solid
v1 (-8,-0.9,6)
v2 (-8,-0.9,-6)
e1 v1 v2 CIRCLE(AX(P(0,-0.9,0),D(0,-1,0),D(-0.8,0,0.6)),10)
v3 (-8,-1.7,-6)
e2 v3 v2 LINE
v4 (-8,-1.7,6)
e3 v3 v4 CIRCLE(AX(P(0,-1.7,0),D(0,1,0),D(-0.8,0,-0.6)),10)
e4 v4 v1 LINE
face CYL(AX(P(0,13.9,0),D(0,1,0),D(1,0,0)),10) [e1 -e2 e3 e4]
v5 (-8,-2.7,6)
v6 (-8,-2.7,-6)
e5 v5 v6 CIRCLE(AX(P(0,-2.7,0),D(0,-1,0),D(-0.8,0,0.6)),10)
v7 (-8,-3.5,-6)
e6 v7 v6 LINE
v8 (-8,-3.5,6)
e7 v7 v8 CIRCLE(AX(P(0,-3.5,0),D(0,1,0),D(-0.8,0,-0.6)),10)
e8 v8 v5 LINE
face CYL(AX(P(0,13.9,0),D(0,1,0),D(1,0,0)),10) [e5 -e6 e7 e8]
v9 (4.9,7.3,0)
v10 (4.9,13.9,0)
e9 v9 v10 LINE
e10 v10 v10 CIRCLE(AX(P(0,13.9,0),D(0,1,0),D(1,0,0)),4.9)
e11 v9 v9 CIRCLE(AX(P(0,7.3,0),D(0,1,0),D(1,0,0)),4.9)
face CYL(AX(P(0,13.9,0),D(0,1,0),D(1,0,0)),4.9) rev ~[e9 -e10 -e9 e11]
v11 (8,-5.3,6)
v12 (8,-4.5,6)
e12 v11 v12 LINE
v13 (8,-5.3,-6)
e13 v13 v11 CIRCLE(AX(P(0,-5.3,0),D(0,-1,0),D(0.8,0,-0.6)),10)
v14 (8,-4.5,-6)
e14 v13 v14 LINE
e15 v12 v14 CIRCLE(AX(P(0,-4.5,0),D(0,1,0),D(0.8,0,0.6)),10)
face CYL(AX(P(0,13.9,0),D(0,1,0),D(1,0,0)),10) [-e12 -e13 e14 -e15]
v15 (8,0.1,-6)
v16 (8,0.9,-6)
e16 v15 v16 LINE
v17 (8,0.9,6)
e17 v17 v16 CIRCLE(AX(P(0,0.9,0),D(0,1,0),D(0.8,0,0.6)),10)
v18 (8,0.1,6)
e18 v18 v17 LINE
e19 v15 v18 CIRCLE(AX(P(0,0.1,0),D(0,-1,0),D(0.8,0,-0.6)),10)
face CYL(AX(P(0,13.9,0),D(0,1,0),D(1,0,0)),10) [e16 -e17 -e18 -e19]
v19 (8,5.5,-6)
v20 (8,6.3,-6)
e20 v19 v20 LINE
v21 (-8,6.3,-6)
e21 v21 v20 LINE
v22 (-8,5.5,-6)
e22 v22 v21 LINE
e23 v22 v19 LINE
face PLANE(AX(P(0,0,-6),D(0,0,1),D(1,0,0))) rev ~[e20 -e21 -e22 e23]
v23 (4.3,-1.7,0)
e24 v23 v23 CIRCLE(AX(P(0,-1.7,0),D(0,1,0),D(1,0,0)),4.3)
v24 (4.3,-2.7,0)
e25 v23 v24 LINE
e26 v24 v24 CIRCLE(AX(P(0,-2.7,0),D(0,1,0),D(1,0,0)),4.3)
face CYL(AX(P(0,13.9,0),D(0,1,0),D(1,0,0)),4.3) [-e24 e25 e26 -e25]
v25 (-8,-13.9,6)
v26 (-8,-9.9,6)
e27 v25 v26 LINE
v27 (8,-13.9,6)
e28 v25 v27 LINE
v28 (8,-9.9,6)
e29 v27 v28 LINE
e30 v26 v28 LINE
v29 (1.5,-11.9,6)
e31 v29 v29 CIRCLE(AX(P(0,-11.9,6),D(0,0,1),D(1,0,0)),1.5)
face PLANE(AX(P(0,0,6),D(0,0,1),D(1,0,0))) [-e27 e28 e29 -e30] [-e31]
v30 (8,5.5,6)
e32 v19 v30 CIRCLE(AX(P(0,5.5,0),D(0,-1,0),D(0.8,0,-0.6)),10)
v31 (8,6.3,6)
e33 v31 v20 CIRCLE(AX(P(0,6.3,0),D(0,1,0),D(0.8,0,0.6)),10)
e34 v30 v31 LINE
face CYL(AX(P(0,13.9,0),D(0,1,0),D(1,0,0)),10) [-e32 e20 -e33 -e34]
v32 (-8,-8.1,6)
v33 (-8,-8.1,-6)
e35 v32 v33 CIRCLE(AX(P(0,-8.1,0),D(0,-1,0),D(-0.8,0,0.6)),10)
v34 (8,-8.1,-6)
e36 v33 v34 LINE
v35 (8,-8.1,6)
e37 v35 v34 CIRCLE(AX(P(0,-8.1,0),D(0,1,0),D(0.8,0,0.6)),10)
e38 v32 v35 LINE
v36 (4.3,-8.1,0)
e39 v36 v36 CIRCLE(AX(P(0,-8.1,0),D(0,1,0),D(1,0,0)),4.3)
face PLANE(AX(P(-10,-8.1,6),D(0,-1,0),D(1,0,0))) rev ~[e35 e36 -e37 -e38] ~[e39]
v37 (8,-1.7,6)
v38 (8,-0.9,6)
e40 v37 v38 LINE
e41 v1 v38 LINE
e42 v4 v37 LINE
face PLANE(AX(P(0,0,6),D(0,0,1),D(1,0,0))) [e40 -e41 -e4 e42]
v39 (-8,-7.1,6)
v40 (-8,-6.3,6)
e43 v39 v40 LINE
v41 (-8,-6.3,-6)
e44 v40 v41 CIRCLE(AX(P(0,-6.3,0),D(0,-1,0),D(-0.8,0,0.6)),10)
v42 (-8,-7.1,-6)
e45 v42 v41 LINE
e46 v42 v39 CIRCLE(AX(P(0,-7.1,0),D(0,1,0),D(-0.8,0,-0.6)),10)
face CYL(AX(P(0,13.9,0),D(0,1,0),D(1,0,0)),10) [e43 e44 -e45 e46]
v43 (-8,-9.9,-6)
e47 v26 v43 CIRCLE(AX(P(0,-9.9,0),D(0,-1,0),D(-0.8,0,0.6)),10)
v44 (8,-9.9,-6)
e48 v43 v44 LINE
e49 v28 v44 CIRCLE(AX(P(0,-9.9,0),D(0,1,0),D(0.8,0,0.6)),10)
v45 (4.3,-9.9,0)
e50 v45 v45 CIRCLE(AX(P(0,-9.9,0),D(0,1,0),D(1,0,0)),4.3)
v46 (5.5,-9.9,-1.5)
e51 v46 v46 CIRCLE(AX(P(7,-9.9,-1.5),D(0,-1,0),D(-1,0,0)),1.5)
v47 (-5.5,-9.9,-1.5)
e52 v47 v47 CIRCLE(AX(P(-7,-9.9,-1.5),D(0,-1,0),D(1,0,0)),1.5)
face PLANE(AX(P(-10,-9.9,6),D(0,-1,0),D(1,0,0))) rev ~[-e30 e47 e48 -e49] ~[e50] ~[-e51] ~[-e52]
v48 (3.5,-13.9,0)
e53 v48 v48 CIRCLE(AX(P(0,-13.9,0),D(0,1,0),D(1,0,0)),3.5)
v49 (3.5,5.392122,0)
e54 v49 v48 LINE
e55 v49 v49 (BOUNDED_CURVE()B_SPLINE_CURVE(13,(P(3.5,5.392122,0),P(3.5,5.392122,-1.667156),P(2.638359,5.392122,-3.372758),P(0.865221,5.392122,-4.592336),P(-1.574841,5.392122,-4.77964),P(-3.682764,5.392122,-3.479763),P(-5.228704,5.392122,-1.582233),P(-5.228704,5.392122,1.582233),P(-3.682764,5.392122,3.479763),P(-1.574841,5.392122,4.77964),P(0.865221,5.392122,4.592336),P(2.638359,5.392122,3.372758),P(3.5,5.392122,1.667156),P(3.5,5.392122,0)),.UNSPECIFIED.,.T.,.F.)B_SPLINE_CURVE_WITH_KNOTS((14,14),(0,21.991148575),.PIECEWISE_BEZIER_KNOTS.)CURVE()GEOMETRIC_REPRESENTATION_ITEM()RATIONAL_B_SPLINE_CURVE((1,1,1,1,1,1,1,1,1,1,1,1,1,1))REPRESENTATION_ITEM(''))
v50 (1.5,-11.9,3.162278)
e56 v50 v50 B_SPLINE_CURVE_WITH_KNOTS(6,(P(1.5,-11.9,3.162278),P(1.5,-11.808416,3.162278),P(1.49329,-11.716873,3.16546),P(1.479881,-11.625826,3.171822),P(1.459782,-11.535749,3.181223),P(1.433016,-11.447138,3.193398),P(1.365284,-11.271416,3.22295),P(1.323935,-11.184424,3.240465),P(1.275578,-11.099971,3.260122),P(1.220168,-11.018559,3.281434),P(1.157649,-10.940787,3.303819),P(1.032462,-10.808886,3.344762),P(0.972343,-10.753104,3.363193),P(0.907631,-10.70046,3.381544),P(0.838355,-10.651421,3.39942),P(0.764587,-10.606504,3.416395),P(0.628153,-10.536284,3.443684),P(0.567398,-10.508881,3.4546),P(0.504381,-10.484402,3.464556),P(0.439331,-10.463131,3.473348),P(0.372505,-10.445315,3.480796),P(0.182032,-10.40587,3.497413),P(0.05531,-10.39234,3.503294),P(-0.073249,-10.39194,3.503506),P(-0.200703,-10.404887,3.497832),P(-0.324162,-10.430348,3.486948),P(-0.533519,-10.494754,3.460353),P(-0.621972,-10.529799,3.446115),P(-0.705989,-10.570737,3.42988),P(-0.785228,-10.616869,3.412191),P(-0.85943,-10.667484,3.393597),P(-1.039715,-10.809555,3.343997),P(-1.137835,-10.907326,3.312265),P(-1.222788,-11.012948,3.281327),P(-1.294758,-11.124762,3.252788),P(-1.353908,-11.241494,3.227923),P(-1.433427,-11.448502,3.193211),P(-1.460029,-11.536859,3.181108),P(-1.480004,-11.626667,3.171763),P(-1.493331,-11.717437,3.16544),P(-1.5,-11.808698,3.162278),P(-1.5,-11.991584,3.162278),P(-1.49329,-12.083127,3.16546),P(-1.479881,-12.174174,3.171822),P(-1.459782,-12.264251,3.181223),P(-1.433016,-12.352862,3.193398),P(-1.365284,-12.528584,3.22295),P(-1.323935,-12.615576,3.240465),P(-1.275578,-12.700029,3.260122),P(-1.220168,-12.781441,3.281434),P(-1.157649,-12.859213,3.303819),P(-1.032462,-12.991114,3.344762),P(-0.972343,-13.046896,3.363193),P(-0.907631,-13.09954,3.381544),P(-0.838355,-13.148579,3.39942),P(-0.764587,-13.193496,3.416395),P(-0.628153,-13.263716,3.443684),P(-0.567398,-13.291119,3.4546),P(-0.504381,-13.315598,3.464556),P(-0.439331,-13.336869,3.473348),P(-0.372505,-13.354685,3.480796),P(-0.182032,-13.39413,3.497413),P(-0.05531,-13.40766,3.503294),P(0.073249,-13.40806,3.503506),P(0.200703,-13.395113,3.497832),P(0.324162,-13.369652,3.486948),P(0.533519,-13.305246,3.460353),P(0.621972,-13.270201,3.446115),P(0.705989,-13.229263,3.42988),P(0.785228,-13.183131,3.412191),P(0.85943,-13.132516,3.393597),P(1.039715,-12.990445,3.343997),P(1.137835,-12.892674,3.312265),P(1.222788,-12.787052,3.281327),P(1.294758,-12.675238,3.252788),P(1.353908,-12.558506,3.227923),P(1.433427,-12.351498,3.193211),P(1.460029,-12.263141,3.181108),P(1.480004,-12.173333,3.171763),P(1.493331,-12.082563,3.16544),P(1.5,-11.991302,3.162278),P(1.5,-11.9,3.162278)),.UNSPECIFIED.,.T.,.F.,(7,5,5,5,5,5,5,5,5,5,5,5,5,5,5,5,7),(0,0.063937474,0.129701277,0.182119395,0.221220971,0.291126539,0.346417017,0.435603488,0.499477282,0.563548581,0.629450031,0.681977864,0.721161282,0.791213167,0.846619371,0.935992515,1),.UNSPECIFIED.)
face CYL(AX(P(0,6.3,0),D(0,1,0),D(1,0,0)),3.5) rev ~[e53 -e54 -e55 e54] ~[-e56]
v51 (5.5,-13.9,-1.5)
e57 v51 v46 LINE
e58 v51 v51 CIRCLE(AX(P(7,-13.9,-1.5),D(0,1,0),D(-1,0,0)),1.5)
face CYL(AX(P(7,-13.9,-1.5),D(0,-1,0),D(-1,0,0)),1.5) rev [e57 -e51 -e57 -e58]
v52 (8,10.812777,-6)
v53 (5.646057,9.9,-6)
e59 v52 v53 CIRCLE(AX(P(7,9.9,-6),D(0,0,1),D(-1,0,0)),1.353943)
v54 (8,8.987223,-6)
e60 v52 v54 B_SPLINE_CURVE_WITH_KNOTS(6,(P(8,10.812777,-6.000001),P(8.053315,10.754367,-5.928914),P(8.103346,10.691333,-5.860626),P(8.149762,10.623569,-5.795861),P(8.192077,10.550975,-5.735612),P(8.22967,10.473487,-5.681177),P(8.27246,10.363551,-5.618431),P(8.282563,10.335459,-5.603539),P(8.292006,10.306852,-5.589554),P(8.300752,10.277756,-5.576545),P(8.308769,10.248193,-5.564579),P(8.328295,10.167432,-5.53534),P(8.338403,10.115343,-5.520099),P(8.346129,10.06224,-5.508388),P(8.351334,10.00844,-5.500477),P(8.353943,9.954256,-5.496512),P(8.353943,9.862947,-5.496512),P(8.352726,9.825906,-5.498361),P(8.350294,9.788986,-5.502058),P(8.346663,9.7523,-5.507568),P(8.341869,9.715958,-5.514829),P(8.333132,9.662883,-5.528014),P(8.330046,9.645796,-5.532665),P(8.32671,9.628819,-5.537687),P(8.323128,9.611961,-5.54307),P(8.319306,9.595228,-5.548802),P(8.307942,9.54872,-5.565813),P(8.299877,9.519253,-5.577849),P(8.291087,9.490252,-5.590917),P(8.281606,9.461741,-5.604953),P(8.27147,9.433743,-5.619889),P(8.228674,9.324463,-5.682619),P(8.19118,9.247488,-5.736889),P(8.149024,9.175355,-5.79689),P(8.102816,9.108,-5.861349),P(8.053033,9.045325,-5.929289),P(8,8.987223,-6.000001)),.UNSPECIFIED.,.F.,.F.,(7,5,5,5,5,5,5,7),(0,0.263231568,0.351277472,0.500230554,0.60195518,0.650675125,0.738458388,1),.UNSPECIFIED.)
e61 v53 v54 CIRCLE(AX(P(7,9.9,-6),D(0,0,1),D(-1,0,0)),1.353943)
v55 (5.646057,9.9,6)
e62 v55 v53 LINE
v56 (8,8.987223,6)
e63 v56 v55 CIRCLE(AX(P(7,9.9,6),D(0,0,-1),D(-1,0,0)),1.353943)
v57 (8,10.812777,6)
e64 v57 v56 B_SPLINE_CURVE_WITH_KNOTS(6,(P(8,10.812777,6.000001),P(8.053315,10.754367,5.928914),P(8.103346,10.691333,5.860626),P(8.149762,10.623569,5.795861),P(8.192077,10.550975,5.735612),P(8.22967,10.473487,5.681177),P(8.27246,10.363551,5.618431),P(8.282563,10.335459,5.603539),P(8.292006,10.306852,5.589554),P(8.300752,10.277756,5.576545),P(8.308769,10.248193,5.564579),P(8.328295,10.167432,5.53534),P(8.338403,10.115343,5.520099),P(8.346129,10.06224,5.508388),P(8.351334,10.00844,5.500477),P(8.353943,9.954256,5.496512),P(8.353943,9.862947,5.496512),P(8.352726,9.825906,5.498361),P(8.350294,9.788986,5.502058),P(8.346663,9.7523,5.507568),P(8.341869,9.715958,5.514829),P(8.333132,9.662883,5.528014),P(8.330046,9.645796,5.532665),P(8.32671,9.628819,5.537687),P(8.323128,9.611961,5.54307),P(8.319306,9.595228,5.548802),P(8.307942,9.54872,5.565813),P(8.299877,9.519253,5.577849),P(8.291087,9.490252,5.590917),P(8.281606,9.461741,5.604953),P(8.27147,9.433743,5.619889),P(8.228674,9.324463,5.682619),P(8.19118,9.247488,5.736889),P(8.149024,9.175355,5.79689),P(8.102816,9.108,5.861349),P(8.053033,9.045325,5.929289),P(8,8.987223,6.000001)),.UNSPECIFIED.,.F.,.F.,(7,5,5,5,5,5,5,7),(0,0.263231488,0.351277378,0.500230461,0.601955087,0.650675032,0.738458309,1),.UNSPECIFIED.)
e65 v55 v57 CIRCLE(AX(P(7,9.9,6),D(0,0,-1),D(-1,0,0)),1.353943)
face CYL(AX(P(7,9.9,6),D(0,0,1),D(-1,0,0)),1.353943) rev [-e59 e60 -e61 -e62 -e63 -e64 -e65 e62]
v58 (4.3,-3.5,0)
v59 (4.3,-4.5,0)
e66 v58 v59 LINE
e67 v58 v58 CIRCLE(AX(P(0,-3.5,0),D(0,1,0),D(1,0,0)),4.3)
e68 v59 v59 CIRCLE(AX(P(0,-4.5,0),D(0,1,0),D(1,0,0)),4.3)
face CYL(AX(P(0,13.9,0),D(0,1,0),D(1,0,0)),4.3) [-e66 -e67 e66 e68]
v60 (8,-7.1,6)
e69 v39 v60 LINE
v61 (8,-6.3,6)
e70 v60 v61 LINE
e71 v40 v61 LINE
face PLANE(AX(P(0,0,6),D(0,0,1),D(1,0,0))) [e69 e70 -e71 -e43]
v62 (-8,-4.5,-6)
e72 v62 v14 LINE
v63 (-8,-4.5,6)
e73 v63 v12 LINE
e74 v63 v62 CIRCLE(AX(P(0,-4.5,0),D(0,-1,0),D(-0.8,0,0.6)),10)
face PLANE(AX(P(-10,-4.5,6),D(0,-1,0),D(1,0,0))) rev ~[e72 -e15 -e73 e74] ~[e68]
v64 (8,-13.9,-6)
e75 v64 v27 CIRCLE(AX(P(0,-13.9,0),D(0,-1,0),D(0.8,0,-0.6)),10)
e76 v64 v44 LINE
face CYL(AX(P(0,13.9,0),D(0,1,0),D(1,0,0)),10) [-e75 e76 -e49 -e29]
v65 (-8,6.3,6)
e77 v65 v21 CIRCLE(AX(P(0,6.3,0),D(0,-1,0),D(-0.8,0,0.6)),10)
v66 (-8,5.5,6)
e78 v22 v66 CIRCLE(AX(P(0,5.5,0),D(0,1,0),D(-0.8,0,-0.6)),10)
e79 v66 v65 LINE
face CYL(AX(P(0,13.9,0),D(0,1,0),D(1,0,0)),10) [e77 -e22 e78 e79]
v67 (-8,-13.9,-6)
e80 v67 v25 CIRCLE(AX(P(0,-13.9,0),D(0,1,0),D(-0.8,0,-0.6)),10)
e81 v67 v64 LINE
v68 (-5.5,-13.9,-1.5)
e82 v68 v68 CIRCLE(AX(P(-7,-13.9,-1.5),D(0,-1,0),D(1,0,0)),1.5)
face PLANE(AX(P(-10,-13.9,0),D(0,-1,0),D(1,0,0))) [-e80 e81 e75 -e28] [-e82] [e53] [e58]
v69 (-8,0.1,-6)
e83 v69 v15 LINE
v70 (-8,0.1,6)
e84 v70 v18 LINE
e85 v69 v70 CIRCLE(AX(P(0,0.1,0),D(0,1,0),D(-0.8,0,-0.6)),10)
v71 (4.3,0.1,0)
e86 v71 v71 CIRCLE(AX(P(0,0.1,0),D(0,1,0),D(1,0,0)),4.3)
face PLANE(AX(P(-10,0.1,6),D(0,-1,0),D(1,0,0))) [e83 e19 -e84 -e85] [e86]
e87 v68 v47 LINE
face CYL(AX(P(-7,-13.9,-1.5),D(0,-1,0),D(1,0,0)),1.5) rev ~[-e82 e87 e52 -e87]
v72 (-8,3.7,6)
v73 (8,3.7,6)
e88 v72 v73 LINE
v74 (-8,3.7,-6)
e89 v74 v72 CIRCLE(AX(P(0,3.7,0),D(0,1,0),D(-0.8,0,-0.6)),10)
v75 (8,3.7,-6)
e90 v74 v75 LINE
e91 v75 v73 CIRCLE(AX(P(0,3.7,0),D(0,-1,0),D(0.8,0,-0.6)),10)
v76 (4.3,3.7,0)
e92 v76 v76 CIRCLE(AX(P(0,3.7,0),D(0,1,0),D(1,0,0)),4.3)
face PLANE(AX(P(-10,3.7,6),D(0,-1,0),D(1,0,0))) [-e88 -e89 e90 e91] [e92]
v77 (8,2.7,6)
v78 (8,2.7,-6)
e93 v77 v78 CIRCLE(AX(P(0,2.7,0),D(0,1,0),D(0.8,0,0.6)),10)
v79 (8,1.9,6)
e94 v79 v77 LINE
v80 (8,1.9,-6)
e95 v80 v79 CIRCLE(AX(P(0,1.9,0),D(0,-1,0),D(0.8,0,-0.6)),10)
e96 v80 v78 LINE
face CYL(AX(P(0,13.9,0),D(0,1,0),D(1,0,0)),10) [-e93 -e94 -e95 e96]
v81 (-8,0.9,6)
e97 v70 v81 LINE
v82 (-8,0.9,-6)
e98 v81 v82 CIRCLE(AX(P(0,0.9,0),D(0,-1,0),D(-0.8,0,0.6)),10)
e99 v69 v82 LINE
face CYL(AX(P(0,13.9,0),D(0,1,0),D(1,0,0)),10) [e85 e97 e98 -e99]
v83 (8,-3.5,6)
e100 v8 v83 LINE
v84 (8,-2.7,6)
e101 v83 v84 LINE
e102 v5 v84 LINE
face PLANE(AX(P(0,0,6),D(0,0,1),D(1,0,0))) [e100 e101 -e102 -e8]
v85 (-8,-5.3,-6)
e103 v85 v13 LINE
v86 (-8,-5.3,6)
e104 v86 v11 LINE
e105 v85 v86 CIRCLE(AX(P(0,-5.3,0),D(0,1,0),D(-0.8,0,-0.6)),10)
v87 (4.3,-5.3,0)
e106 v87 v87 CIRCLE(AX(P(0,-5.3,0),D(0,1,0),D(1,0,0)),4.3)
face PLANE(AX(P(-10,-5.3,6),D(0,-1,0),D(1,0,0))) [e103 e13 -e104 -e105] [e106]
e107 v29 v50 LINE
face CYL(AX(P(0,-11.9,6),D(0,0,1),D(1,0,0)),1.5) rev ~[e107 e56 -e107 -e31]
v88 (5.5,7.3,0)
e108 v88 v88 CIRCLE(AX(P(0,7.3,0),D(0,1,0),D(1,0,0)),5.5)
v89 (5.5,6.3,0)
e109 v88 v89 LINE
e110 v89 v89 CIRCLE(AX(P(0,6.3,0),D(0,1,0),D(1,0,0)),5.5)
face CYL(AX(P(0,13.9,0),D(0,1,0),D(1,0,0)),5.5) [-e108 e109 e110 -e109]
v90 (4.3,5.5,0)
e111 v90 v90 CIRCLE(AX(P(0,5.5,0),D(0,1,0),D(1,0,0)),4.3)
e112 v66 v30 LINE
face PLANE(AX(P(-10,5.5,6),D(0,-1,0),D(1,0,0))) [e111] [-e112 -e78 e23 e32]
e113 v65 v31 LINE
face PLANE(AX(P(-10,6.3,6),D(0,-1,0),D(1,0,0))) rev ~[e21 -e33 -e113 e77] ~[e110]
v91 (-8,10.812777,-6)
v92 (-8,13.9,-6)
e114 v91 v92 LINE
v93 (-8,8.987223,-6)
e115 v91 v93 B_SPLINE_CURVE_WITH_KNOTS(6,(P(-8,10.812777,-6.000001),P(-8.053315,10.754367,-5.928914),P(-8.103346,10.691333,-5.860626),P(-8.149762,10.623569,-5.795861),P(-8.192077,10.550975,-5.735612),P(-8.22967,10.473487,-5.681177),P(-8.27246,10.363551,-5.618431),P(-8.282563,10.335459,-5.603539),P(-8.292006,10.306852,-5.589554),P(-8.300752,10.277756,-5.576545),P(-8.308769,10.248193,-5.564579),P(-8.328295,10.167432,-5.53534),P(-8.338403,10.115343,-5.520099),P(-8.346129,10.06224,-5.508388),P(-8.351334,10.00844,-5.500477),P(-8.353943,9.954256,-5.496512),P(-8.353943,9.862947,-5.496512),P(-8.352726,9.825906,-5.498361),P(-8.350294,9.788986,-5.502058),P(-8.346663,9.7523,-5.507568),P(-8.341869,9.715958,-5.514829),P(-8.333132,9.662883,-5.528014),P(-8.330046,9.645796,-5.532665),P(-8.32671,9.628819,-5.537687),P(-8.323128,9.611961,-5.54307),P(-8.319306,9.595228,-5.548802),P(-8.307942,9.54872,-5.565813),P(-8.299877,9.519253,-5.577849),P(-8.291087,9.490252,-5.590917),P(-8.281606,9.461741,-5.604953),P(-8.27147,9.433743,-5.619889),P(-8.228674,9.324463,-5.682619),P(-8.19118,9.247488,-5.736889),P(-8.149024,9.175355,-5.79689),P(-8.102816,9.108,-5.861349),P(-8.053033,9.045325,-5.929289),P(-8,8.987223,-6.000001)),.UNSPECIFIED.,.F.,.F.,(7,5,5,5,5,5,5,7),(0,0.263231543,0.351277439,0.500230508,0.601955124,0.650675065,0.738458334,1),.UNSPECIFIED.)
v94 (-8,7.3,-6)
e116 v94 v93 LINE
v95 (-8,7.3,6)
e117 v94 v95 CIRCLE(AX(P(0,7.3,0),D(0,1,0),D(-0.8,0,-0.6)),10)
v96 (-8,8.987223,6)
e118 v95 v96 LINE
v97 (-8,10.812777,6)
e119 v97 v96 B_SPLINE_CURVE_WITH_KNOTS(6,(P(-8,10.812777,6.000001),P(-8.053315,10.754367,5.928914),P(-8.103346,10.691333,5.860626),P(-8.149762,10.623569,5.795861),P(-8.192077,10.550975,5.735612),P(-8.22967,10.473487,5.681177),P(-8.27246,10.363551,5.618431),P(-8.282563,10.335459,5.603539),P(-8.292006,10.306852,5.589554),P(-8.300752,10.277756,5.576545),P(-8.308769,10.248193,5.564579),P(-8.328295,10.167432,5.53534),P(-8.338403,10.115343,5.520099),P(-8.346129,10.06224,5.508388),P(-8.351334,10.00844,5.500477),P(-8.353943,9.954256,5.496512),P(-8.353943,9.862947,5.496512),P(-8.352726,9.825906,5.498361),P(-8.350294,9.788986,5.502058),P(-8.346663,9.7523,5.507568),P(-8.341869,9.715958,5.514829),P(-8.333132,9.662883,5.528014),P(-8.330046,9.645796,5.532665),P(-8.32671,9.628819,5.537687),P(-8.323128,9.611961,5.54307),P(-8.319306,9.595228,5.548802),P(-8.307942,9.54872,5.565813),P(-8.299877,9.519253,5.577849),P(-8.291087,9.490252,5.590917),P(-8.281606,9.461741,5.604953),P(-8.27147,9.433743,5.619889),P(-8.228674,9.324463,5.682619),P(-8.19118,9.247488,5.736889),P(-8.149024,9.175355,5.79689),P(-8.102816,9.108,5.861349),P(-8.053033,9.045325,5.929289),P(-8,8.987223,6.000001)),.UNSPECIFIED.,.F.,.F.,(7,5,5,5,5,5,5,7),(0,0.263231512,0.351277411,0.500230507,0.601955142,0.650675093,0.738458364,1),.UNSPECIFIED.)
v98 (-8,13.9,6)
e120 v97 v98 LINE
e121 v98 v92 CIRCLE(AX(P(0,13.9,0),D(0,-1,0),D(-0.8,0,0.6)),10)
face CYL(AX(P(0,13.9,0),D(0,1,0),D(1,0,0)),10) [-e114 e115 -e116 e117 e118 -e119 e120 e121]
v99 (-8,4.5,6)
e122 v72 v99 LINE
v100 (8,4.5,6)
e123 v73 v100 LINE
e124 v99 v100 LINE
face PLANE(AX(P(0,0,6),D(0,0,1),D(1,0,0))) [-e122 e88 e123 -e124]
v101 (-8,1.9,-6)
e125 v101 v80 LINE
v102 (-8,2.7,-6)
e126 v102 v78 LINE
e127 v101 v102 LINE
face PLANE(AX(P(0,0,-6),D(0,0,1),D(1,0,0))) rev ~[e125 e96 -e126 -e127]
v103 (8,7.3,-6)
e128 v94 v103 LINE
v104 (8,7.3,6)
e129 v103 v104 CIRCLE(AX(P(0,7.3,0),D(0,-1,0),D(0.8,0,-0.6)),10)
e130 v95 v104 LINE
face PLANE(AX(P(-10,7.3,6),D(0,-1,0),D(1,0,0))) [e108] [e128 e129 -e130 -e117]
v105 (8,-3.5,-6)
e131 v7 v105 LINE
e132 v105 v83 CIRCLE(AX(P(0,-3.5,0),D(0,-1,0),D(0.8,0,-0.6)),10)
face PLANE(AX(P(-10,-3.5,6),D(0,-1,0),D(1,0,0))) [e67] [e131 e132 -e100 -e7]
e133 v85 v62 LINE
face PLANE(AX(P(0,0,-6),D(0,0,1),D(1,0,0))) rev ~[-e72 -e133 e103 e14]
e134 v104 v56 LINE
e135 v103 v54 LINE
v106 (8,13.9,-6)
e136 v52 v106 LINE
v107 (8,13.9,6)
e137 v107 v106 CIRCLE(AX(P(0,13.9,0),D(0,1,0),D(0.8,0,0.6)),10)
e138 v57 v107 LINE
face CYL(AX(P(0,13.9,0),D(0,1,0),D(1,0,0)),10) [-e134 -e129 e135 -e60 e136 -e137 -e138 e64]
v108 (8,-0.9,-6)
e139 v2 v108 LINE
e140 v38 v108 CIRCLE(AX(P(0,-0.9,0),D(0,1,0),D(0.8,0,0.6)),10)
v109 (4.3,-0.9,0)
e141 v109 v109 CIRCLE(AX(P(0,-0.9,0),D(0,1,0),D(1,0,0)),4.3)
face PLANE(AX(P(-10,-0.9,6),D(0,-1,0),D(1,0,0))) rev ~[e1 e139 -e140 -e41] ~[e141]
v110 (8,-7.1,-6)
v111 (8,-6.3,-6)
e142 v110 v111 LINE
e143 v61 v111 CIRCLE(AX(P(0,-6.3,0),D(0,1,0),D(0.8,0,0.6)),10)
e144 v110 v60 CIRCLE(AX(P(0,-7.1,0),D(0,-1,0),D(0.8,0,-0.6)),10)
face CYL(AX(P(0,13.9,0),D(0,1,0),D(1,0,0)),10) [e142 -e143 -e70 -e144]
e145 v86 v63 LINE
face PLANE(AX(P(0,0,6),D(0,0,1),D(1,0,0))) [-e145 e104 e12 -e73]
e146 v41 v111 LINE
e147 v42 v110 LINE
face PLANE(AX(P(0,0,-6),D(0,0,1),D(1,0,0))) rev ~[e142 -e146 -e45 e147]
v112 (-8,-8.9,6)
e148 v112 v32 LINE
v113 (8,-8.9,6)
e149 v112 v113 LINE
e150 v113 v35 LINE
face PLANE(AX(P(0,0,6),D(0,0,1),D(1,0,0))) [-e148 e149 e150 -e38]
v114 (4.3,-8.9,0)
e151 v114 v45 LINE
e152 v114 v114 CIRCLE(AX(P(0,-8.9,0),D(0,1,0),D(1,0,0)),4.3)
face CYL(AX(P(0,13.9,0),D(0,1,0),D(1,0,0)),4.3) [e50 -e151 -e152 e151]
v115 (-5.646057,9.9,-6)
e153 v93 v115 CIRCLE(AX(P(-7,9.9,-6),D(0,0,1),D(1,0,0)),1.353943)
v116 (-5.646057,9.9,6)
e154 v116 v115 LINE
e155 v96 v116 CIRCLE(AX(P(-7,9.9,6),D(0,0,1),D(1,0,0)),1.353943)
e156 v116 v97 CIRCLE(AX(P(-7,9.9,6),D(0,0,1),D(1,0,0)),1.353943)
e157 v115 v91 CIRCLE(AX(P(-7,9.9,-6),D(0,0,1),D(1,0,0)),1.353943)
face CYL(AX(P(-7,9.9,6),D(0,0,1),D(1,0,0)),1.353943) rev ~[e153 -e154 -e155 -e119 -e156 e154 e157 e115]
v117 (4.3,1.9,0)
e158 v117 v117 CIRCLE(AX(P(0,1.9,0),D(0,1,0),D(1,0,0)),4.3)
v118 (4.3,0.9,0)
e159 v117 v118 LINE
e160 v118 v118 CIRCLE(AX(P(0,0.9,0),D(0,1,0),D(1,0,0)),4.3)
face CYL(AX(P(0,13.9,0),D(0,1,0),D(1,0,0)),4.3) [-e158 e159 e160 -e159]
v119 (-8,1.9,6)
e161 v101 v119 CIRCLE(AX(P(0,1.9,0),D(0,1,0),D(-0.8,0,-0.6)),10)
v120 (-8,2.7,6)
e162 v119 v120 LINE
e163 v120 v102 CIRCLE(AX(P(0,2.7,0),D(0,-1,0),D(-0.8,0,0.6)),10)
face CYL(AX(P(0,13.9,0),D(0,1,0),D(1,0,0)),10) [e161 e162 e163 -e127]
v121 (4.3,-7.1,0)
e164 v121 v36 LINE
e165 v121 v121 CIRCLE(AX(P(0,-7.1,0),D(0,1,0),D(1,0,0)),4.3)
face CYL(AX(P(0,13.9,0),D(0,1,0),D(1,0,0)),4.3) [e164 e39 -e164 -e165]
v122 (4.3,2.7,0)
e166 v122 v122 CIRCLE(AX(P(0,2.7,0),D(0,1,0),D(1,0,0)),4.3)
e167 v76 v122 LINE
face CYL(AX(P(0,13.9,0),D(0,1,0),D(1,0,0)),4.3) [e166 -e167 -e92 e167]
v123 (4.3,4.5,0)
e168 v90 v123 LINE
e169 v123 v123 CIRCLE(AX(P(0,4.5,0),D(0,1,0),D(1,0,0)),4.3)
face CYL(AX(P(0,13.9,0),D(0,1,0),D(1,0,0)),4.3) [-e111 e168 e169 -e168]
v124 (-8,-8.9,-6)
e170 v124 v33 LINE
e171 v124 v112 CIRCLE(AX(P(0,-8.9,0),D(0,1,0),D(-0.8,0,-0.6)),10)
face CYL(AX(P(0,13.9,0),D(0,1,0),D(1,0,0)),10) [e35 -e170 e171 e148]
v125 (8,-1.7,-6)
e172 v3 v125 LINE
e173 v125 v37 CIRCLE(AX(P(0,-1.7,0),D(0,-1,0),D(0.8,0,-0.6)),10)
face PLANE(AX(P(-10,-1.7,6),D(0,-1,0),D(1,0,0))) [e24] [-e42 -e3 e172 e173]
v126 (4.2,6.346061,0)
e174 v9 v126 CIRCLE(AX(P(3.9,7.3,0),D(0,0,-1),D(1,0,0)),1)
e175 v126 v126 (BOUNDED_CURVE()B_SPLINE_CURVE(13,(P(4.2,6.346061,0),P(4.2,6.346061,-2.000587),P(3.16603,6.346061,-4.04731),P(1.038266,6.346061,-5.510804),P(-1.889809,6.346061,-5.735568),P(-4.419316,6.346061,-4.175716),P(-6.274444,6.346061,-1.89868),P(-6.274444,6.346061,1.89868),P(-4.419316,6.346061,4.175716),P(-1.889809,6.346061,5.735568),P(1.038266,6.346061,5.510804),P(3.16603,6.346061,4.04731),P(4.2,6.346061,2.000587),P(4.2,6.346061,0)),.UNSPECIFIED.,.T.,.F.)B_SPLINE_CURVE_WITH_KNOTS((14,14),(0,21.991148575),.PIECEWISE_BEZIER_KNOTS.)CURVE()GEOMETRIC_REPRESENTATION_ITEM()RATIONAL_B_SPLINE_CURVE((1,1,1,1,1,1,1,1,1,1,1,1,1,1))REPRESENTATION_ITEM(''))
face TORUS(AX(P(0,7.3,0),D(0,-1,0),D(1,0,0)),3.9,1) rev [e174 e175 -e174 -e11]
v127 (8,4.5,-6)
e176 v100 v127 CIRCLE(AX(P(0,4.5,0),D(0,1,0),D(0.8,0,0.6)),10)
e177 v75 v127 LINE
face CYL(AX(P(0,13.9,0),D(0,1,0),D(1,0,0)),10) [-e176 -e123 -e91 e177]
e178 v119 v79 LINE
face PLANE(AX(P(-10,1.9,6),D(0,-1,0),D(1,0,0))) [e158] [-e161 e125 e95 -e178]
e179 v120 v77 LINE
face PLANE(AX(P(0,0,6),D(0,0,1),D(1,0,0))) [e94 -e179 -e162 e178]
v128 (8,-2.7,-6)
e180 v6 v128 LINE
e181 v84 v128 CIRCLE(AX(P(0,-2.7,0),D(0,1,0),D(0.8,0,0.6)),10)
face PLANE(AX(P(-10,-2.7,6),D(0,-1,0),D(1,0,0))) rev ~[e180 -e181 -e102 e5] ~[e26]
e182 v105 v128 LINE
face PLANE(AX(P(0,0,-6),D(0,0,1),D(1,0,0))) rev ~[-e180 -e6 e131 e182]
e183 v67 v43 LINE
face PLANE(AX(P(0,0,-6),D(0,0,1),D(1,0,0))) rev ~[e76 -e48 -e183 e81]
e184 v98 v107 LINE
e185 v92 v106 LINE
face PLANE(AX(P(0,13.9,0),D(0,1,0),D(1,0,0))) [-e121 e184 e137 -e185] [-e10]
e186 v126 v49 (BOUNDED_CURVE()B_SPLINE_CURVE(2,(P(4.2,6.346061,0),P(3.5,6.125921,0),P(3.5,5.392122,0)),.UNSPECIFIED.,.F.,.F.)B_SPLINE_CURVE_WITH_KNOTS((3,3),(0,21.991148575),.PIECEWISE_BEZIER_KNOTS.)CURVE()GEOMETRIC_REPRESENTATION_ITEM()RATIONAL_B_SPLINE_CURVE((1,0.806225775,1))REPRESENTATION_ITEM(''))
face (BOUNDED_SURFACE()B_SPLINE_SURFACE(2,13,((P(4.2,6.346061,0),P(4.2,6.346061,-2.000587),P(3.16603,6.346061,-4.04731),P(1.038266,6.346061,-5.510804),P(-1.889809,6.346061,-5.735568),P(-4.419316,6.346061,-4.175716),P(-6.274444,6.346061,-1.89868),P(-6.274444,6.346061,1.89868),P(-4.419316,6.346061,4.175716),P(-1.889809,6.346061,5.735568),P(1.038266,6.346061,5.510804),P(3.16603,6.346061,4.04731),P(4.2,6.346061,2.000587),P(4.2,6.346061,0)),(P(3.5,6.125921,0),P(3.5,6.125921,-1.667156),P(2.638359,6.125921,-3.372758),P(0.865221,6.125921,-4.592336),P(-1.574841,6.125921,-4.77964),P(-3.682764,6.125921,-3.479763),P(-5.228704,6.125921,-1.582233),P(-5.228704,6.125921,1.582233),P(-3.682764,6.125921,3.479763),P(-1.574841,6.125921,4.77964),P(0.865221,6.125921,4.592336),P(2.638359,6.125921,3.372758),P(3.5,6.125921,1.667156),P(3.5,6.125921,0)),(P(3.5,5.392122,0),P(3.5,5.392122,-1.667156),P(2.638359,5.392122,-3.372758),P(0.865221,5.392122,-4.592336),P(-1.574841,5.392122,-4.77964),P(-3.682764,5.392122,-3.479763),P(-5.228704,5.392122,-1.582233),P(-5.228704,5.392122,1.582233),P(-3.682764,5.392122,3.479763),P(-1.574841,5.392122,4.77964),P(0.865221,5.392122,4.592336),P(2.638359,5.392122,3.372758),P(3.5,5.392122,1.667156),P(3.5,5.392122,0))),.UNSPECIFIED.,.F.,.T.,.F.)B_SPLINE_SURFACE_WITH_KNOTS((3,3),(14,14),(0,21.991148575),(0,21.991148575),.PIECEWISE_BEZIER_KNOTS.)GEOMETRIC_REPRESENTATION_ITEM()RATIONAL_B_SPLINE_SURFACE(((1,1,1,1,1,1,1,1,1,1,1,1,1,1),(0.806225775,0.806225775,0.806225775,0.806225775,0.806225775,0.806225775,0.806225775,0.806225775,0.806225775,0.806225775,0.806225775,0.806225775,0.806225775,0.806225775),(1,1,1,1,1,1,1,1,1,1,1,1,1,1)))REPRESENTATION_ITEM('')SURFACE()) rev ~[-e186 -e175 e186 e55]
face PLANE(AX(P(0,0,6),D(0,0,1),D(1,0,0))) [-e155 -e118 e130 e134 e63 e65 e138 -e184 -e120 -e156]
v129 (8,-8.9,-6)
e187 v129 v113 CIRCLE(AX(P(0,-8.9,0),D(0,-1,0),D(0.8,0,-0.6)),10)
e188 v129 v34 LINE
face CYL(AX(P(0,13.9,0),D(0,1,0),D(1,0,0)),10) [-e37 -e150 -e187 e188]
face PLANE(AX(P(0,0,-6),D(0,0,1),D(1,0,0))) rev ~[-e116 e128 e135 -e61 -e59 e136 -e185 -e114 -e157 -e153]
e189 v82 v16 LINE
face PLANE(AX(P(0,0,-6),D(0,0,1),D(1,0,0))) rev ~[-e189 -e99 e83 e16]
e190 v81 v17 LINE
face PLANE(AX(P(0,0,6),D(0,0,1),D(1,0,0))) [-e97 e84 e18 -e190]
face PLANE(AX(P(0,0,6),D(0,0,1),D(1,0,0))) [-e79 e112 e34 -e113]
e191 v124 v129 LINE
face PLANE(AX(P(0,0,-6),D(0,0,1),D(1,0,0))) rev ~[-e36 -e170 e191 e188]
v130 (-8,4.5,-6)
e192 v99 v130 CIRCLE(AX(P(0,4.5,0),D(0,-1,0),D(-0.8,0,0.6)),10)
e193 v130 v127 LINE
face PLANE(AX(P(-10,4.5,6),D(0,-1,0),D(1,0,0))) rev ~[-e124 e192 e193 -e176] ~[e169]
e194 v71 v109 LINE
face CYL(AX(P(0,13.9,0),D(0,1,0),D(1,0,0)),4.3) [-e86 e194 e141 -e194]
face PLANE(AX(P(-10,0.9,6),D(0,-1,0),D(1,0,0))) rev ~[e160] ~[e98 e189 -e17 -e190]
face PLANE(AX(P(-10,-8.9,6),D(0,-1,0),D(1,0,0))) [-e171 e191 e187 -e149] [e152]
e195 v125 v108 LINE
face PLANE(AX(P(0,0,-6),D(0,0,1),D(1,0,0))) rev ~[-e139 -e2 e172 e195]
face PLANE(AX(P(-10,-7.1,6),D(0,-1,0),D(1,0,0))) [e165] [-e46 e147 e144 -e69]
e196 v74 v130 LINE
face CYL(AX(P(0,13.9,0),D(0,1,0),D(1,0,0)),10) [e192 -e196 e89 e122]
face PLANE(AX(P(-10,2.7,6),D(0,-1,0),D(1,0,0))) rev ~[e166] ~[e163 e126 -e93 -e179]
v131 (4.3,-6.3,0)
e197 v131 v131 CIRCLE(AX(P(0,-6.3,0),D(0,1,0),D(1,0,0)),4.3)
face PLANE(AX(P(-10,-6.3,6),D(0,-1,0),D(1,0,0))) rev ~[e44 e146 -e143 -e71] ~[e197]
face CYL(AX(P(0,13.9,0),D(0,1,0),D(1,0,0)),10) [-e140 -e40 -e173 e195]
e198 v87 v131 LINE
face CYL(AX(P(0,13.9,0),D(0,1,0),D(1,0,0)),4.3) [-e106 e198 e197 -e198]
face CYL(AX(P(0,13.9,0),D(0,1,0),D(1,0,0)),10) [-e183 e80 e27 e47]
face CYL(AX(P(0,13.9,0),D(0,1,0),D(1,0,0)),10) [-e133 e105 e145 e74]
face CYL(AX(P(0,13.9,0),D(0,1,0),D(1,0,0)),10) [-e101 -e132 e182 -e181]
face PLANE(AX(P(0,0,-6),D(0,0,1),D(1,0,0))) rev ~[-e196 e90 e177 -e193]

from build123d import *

# Parameters (mm, degrees)
SKETCH1_W          = 20
SKETCH1_H          = 27.8
BODY_DEPTH         = 6
BODY_DEPTH_BACK    = 6
SKETCH2_W          = 20
SKETCH2_H          = 1
CUTTHROUGH_DEPTH   = 13
RIBS_COUNT         = 10
RIBS_PITCH         = 1.8
SKETCH3_R          = 1.353942753
TOP_HOLES_DEPTH    = 13
SKETCH4_R          = 1.5
LOWERHOLE_DEPTH    = 6
SKETCH5_R          = 20
SKETCH5_R_2        = 10
CYLINDER_DEPTH     = 28.8
SKETCH6_R          = 4.3
CENTRE_ROD_DEPTH   = 23.8
SKETCH7_R          = 5.5
SKETCH7_R_2        = 4.9
UPPER_ROD_DEPTH    = 7.6
SKETCH7_2_R        = 4.9
UP_HOLE_DEPTH      = 7.6
SKETCH9_R          = 1.5
BOTTOM_HOLE_DEPTH  = 5
SKETCH10_R         = 3.5
CUT_EXTRUDE7_DEPTH = 21.2
FILLET1_R          = 1
FILLET2_R          = 1


with BuildPart() as part:
    # Sketch1 → body (new body, two sides)
    with BuildSketch(Plane.XY) as body_sk:
        Rectangle(SKETCH1_W, SKETCH1_H)
    extrude(amount=BODY_DEPTH)
    extrude(body_sk.sketch, amount=-BODY_DEPTH_BACK)

    # Sketch2 → cutThrough (cut, through all)
    with BuildSketch(Plane.XY.offset(6)):
        with Locations((0, -9.4)):
            Rectangle(SKETCH2_W, SKETCH2_H)
    cutthrough = extrude(amount=-CUTTHROUGH_DEPTH, mode=Mode.SUBTRACT)

    # ribs: cutThrough ×10
    with Locations(*[(0, i * RIBS_PITCH, 0) for i in range(1, RIBS_COUNT)]):
        add(cutthrough, mode=Mode.SUBTRACT)

    # Sketch3 → top holes (cut, through all)
    with BuildSketch(Plane.XY.offset(6)):
        with Locations((-7, 9.9)):
            Circle(SKETCH3_R)
    top_holes = extrude(amount=-TOP_HOLES_DEPTH, mode=Mode.SUBTRACT)

    # top hole R: top holes across plane
    add(top_holes.mirror(Plane(origin=(0, 0, 0), x_dir=(0, 0, 1), z_dir=(1, 0, 0))), mode=Mode.SUBTRACT)

    # Sketch4 → lowerHole (cut)
    with BuildSketch(Plane.XY.offset(6)):
        with Locations((0, -11.9)):
            Circle(SKETCH4_R)
    extrude(amount=-LOWERHOLE_DEPTH, mode=Mode.SUBTRACT)

    # Sketch5 → cylinder (cut, through all)
    with BuildSketch(Plane(origin=(0, 13.9, 0), x_dir=(1, 0, 0), z_dir=(0, 1, 0))):
        Circle(SKETCH5_R)
        Circle(SKETCH5_R_2, mode=Mode.SUBTRACT)
    extrude(amount=-CYLINDER_DEPTH, mode=Mode.SUBTRACT)

    # Sketch6 → centre rod (add)
    with BuildSketch(Plane(origin=(0, 13.9, 0), x_dir=(1, 0, 0), z_dir=(0, 1, 0))):
        Circle(SKETCH6_R)
    extrude(amount=-CENTRE_ROD_DEPTH)

    # Sketch7 → upper rod (add)
    with BuildSketch(Plane(origin=(0, 13.9, 0), x_dir=(1, 0, 0), z_dir=(0, 1, 0))):
        Circle(SKETCH7_R)
        Circle(SKETCH7_R_2, mode=Mode.SUBTRACT)
    extrude(amount=-UPPER_ROD_DEPTH)

    # Sketch7_2 → up hole (cut)
    with BuildSketch(Plane(origin=(0, 13.9, 0), x_dir=(1, 0, 0), z_dir=(0, 1, 0))):
        Circle(SKETCH7_2_R)
    extrude(amount=-UP_HOLE_DEPTH, mode=Mode.SUBTRACT)

    # Sketch9 → bottom hole (cut)
    with BuildSketch(Plane.XZ.offset(13.9)):
        with Locations((-7, -1.5)):
            Circle(SKETCH9_R)
    bottom_hole = extrude(amount=-BOTTOM_HOLE_DEPTH, mode=Mode.SUBTRACT)

    # bottom hole R: bottom hole across plane
    add(bottom_hole.mirror(Plane(origin=(0, 0, 0), x_dir=(0, 0, 1), z_dir=(1, 0, 0))), mode=Mode.SUBTRACT)

    # Sketch10 → Cut-Extrude7 (cut, through all)
    with BuildSketch(Plane(origin=(0, 6.3, 0), x_dir=(1, 0, 0), z_dir=(0, 1, 0))):
        Circle(SKETCH10_R)
    extrude(amount=-CUT_EXTRUDE7_DEPTH, mode=Mode.SUBTRACT)

    # Fillet1
    fillet1_edges = [part.edges().sort_by_distance(p)[0] for p in [
        (-4.9, 6.3, 0),
    ]]
    fillet(fillet1_edges, radius=FILLET1_R)

    # Fillet2
    fillet2_edges = [part.edges().sort_by_distance(p)[0] for p in [
        (-3.5, 6.3, 0),
    ]]
    fillet(fillet2_edges, radius=FILLET2_R)


solid = part.part
